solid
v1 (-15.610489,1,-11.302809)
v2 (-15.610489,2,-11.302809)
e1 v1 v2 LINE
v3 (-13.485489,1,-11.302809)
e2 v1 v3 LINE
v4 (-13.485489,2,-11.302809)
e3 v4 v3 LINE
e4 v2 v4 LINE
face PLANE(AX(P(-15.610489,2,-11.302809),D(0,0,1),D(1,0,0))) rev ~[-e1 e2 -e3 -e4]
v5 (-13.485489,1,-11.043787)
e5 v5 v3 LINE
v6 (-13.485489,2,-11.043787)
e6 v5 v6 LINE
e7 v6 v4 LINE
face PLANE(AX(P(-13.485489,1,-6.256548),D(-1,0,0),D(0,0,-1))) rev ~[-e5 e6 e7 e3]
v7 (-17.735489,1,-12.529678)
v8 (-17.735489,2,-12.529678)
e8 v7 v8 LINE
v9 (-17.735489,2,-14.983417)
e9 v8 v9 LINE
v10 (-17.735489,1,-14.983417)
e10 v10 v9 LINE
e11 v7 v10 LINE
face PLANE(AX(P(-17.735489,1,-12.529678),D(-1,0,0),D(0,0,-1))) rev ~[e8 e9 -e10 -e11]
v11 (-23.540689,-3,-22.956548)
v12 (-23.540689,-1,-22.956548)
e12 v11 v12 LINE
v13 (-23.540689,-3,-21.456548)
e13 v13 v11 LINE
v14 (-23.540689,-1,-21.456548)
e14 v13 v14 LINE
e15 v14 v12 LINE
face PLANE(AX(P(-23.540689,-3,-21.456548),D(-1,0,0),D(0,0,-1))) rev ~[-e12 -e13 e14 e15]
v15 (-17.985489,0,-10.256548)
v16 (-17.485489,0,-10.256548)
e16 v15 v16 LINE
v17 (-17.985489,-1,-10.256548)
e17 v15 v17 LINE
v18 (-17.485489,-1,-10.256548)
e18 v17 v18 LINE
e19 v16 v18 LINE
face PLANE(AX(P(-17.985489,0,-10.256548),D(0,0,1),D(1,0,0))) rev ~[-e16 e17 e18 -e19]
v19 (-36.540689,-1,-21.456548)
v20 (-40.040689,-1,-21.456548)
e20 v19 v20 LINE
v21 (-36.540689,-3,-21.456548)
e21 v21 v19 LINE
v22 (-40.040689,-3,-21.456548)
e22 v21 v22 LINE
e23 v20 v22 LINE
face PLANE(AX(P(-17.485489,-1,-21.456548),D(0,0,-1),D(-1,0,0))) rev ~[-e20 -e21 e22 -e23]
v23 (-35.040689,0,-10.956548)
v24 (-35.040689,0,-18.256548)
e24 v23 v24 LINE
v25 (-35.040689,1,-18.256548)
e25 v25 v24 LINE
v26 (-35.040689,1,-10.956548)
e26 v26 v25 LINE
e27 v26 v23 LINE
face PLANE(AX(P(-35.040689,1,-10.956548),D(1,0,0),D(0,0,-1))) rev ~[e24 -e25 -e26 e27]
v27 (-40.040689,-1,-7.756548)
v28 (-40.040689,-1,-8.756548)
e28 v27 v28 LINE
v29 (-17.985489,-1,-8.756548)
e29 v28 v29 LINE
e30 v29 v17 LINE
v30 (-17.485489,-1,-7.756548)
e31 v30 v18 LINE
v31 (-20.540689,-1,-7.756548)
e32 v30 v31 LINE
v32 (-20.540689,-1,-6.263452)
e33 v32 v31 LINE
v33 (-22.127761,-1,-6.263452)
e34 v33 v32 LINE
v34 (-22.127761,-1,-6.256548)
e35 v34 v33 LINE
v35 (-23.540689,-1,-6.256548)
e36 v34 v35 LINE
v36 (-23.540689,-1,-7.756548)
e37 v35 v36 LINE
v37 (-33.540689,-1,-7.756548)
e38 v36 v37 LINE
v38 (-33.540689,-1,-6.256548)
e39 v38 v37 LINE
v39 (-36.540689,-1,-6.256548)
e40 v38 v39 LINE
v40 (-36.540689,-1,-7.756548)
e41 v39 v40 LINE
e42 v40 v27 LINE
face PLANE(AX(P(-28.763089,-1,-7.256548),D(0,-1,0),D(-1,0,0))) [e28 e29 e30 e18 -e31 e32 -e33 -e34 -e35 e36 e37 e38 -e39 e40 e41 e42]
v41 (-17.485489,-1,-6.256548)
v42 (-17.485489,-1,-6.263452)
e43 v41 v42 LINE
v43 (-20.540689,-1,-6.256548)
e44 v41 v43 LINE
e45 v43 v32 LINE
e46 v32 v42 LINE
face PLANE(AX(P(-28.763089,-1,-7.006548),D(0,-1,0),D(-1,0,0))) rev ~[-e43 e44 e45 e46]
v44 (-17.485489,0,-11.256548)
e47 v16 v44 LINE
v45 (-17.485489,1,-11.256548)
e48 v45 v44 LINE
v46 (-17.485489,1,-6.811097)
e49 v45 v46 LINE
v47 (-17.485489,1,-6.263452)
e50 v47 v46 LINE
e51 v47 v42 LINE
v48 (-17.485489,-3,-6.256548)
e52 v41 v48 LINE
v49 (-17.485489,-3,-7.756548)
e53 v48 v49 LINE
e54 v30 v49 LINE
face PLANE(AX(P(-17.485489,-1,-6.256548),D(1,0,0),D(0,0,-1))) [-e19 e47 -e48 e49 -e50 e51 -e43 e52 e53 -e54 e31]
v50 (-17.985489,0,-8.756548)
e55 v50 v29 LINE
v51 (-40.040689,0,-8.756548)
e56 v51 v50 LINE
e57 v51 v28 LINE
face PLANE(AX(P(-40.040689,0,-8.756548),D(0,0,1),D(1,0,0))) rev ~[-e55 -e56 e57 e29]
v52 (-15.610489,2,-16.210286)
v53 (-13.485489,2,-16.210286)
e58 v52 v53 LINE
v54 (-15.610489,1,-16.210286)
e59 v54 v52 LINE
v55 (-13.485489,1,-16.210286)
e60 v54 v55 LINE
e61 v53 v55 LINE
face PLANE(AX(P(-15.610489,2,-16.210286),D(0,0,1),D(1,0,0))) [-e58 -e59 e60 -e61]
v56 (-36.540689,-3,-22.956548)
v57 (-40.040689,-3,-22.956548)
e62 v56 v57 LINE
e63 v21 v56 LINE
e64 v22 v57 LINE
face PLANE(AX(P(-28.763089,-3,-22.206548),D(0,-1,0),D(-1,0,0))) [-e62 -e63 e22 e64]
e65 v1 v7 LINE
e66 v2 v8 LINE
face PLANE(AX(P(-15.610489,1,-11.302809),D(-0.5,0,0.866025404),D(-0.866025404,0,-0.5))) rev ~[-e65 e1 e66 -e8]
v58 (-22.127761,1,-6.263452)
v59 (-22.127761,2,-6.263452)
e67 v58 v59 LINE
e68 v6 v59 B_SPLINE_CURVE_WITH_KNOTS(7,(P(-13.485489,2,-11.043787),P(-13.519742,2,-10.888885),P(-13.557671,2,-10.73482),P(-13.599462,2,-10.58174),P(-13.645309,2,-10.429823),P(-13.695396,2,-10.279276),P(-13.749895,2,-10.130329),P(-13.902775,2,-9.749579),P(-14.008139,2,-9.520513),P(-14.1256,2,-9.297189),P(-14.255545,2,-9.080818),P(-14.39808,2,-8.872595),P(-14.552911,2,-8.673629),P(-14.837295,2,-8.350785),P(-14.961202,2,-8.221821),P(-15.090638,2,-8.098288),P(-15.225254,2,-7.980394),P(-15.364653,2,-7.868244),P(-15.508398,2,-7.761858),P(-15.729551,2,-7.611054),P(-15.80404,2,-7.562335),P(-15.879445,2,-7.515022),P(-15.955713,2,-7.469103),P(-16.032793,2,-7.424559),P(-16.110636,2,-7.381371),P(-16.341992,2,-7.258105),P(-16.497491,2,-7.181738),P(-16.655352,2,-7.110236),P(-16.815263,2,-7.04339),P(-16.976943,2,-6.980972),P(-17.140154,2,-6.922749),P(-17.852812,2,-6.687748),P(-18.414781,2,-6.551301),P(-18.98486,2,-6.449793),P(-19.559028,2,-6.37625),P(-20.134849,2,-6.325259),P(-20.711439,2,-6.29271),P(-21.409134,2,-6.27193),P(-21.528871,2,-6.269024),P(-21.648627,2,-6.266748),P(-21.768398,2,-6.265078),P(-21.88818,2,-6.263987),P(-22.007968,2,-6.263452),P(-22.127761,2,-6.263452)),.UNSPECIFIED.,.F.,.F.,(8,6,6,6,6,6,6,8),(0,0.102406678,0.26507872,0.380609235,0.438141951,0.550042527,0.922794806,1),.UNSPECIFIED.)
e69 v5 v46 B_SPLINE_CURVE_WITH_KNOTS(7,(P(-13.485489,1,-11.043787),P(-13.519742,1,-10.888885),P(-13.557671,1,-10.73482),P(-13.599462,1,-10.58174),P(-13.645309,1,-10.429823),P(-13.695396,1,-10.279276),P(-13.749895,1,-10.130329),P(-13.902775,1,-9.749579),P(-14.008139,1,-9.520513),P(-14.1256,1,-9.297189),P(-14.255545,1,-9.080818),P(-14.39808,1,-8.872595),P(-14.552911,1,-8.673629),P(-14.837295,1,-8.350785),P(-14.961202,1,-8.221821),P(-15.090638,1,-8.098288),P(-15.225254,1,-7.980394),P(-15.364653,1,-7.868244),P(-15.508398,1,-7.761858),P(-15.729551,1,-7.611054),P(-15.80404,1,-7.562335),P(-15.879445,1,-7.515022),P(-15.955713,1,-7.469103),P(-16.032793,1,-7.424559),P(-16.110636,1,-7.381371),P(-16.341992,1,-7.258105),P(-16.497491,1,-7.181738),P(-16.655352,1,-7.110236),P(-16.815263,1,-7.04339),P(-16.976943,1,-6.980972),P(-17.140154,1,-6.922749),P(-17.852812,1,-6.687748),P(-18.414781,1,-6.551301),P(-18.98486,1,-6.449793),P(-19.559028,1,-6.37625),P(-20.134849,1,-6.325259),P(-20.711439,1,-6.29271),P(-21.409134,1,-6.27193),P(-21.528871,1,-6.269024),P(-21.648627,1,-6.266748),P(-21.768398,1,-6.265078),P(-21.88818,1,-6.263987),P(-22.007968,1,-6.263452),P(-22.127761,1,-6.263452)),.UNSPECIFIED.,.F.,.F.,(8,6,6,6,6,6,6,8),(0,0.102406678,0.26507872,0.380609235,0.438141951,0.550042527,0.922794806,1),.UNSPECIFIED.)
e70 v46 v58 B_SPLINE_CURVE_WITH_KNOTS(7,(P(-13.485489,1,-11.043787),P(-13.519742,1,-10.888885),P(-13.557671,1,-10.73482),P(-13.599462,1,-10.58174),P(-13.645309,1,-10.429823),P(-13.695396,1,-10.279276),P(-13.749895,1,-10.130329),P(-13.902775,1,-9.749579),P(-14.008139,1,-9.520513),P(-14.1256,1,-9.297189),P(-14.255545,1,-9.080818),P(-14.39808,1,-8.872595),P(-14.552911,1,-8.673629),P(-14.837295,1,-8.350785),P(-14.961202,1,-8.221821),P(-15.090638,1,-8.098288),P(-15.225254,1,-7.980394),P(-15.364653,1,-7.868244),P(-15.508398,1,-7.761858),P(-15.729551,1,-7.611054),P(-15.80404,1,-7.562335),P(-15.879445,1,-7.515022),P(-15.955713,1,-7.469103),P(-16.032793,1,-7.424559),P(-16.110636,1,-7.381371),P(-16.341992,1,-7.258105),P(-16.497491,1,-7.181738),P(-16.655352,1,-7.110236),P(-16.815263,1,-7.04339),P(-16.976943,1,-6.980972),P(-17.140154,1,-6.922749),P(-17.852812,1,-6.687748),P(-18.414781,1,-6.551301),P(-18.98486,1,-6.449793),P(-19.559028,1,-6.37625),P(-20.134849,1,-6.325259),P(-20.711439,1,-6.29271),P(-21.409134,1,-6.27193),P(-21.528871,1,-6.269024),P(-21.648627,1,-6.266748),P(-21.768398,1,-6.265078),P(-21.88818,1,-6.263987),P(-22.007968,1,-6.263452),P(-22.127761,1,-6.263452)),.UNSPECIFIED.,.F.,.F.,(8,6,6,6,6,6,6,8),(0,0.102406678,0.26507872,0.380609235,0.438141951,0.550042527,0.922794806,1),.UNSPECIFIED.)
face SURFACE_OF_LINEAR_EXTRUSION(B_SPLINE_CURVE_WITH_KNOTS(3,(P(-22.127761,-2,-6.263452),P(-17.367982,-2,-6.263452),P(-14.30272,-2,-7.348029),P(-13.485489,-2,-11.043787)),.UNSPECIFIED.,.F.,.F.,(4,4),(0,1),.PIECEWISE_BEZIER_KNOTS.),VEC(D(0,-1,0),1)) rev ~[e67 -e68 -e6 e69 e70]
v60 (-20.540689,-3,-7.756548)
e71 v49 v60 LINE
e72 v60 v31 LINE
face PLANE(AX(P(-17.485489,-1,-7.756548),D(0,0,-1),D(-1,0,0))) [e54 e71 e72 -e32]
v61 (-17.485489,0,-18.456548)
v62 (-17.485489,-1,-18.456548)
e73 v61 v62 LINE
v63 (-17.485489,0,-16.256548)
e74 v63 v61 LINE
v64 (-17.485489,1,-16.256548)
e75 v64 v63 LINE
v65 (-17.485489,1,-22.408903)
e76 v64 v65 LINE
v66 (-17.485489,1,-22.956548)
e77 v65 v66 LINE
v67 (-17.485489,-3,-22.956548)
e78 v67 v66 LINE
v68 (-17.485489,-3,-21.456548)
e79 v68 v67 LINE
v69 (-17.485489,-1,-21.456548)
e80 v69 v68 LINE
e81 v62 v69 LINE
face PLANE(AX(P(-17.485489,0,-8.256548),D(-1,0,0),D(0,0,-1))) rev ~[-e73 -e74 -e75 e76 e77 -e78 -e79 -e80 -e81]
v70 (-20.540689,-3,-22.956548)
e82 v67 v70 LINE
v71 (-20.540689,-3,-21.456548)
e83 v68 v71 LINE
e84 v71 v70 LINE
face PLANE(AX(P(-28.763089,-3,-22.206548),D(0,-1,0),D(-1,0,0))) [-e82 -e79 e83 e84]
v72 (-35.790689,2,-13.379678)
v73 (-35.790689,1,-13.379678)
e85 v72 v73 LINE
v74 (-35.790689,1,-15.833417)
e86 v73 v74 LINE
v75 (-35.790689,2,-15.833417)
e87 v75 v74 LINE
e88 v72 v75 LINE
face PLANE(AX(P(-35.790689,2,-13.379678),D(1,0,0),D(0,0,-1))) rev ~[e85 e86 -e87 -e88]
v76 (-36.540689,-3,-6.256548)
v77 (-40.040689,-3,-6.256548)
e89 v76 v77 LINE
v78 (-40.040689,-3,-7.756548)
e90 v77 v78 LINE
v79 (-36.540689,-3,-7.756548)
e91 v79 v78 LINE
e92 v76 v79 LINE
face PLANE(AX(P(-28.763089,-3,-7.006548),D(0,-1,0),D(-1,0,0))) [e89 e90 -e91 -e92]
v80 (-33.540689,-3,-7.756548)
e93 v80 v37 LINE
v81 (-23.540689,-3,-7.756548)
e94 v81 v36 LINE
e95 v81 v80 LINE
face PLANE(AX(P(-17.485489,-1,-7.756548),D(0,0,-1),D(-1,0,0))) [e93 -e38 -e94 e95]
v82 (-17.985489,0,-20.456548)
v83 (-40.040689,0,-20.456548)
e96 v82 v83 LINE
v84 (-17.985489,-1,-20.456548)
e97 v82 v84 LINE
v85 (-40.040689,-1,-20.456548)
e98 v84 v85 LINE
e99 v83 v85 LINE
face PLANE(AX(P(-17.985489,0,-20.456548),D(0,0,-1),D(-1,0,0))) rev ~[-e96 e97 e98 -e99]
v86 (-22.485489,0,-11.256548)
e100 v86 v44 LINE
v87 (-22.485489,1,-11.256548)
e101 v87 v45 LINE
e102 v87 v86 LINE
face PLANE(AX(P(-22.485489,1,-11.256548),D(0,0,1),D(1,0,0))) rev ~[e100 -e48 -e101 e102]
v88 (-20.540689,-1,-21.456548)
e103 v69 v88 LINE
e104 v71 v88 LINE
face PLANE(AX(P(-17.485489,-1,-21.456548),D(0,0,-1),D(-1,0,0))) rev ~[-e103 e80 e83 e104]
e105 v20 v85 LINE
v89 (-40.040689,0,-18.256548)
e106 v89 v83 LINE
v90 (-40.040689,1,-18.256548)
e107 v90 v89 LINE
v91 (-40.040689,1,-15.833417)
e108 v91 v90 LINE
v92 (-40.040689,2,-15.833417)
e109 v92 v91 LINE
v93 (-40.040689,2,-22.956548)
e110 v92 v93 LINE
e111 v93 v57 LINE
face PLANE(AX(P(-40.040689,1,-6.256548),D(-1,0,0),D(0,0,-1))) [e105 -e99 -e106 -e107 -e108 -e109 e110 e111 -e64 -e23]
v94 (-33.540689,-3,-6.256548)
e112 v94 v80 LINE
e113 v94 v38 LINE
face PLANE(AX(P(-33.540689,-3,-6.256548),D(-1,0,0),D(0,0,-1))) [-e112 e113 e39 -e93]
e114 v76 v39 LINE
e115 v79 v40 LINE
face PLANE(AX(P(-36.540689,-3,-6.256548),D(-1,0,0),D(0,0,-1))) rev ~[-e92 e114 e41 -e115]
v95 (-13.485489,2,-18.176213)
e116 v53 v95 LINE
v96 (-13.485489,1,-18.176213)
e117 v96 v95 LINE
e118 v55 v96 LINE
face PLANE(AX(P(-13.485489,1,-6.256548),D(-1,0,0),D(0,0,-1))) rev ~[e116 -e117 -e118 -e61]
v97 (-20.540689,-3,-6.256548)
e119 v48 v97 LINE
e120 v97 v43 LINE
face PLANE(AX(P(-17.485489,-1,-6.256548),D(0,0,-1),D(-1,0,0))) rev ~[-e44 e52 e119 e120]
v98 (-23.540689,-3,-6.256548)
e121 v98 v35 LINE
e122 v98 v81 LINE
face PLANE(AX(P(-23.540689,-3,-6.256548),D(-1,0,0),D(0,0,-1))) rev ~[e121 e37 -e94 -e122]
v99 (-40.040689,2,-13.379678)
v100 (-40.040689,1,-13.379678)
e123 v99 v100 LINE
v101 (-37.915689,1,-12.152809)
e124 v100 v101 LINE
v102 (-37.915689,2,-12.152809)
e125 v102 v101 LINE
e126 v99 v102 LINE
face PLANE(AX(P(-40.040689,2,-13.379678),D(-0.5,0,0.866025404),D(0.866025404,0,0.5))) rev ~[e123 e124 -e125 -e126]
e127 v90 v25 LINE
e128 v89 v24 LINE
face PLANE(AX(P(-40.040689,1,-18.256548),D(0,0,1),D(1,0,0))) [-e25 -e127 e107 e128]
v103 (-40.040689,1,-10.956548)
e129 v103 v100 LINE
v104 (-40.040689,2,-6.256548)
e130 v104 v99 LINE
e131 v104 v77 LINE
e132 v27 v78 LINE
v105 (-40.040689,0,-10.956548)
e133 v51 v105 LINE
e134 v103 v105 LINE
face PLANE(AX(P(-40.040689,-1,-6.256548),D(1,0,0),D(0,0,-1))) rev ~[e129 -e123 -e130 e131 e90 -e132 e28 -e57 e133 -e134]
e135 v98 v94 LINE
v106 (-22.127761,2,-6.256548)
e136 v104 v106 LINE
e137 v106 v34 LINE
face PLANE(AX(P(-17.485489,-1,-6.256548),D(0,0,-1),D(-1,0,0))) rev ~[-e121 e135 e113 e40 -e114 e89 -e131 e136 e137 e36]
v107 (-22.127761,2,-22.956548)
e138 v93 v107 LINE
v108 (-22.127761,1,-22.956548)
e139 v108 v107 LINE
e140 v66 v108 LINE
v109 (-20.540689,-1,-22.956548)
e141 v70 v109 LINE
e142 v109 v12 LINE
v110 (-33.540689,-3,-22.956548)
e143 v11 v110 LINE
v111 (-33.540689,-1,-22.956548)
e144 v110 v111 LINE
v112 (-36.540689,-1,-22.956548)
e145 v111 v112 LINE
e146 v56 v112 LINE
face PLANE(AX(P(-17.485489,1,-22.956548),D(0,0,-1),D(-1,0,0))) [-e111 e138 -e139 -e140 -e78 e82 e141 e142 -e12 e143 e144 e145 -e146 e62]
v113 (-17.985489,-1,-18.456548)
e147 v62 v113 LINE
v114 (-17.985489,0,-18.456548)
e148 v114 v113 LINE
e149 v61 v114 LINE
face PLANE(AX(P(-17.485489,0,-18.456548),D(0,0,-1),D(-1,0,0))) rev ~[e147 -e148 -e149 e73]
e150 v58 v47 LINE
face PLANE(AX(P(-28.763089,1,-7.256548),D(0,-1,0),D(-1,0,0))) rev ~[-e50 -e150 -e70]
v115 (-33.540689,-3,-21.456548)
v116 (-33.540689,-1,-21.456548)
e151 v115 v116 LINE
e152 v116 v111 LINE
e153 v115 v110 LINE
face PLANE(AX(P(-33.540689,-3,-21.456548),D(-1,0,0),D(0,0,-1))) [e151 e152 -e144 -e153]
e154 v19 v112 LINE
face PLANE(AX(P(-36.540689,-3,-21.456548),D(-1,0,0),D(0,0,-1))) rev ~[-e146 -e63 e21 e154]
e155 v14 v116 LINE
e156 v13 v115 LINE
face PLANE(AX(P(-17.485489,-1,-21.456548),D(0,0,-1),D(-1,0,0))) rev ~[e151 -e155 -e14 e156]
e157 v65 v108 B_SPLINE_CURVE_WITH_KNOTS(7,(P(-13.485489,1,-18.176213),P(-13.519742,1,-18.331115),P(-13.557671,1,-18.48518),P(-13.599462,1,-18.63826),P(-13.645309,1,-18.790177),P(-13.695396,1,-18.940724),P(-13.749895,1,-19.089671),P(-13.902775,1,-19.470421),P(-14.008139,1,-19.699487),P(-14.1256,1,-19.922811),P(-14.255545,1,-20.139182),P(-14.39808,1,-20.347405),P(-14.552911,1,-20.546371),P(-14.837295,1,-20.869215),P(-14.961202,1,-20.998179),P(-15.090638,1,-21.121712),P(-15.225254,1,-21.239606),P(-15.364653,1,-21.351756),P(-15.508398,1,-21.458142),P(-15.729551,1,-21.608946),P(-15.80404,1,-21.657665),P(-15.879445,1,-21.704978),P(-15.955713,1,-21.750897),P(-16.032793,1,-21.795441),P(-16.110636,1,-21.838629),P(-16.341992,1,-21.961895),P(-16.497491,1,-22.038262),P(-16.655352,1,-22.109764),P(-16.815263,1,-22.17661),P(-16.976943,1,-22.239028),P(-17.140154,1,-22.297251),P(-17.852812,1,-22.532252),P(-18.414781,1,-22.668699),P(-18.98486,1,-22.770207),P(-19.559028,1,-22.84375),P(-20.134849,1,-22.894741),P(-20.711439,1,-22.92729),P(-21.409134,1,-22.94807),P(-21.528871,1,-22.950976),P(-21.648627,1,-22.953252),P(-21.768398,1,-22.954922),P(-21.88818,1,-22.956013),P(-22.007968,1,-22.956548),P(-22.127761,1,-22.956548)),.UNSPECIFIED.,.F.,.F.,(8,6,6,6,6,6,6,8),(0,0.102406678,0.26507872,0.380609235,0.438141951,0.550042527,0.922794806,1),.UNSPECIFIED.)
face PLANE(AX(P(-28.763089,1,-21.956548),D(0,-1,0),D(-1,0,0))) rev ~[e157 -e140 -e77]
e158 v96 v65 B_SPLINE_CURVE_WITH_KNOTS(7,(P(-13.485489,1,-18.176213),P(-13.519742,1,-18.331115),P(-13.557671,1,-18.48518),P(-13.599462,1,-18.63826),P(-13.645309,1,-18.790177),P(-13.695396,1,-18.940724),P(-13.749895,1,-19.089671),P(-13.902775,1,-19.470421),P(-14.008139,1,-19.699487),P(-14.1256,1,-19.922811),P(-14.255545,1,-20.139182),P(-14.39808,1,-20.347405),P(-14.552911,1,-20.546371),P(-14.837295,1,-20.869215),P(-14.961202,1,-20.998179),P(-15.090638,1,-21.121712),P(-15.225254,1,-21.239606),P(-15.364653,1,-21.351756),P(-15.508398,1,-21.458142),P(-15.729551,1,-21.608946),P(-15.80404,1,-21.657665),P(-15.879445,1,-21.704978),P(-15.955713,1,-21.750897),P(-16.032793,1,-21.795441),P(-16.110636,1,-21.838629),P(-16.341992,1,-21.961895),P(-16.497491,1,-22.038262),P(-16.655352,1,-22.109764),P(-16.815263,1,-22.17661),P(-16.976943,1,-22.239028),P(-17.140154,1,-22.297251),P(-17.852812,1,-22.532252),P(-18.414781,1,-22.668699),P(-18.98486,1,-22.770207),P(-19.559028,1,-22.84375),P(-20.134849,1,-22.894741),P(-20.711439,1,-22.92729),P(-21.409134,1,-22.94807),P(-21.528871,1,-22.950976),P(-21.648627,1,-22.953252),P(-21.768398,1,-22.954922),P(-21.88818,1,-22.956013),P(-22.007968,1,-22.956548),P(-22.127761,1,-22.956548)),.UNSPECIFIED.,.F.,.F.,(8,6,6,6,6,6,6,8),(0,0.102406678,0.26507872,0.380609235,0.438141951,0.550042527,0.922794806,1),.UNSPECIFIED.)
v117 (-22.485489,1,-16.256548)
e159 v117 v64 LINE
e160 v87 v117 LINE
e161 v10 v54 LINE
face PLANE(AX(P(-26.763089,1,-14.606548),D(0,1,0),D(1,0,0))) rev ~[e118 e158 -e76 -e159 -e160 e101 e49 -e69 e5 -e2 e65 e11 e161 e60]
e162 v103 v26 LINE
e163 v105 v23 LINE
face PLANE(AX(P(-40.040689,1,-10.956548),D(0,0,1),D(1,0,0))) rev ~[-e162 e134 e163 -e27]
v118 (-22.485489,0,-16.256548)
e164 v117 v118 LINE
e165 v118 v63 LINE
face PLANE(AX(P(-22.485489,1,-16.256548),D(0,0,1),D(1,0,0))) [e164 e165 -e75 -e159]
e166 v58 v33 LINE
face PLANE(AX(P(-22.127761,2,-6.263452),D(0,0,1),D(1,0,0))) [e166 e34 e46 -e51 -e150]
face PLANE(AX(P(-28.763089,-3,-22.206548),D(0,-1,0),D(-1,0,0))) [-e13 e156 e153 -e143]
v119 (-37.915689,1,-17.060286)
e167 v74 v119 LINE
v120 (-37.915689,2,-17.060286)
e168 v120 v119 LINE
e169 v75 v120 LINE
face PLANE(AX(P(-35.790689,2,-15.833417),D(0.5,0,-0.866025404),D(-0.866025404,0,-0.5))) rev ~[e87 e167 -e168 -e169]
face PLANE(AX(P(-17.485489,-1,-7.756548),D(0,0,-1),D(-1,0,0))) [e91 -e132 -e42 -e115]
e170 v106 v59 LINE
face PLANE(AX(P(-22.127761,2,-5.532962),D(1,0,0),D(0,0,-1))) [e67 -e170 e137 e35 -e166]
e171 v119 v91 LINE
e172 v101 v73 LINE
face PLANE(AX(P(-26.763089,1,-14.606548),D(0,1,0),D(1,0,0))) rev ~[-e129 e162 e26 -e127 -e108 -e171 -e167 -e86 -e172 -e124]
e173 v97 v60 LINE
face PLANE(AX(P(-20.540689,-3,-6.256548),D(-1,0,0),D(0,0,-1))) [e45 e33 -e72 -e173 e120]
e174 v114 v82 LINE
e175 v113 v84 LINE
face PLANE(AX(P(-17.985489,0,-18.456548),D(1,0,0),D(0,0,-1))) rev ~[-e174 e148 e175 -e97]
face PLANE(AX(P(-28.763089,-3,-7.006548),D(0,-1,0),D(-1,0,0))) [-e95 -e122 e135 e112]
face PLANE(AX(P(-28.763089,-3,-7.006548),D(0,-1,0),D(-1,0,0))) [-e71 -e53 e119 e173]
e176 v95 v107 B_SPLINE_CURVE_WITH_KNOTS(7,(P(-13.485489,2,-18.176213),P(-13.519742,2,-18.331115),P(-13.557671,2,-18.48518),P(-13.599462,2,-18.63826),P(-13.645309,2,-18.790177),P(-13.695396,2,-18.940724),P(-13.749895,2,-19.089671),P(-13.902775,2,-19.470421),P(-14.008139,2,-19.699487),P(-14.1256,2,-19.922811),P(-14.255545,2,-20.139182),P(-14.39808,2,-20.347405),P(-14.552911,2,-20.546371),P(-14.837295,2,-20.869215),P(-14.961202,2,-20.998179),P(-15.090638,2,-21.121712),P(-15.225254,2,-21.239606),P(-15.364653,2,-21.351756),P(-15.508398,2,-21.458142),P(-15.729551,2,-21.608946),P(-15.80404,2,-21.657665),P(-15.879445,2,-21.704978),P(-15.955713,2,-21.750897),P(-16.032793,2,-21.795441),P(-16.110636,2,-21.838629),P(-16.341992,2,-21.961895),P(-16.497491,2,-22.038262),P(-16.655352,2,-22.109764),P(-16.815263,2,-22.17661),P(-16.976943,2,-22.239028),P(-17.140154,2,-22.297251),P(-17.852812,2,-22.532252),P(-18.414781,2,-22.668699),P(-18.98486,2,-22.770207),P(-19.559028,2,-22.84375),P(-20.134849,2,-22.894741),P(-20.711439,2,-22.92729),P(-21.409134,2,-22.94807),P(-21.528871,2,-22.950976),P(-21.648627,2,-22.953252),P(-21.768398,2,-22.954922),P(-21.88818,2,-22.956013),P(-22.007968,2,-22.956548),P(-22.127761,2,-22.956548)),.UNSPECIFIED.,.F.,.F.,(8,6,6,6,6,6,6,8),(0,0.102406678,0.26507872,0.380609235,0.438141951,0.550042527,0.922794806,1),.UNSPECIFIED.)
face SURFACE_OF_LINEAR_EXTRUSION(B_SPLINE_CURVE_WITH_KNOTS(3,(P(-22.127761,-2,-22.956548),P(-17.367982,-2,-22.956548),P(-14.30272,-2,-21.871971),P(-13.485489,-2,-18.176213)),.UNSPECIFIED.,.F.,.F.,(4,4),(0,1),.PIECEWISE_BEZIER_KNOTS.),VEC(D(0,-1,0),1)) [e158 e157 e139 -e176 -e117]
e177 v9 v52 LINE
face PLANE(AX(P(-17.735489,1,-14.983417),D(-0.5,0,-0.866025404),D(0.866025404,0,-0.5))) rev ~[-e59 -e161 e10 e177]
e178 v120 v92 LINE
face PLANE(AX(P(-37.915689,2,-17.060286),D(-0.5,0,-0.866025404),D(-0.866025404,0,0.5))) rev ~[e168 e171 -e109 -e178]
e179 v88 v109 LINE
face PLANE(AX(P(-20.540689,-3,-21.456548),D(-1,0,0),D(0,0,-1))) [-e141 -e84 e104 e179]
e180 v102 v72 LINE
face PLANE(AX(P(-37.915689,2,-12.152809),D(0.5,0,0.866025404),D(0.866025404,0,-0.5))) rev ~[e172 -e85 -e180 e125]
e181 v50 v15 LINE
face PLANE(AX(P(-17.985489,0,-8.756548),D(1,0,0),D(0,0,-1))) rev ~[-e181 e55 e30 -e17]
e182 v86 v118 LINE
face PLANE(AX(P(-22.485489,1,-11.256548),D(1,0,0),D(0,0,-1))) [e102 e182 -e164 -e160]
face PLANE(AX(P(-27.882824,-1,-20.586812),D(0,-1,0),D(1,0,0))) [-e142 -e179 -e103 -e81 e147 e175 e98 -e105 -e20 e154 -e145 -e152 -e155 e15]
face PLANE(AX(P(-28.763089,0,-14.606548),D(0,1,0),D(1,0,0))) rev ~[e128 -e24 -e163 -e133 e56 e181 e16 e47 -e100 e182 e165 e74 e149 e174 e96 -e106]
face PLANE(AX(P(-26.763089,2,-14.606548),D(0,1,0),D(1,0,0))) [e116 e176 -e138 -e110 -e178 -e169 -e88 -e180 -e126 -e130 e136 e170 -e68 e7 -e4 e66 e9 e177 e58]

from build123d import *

# Parameters (mm, degrees)
SKETCH1_W           = 22.5552
SKETCH1_H           = 12.7
BOSS_EXTRUDE1_DEPTH = 1
SKETCH2_W           = 5
SKETCH2_H           = 7.3
CUT_EXTRUDE1_DEPTH  = 1
SKETCH3_W           = 5
SKETCH3_H           = 5
CUT_EXTRUDE2_DEPTH  = 1
BOSS_EXTRUDE2_DEPTH = 1
SKETCH5_W           = 26.5552
SKETCH5_H           = 16.7
BOSS_EXTRUDE3_DEPTH = 1
CUT_EXTRUDE3_DEPTH  = 1
CUT_EXTRUDE4_DEPTH  = 1
CUT_EXTRUDE5_START  = -4
CUT_EXTRUDE5_DEPTH  = 5
SKETCH10_W          = 22.5552
SKETCH10_H          = 2
BOSS_EXTRUDE4_DEPTH = 2
SKETCH11_W          = 8.919893548
SKETCH11_H          = 0.730490532
CUT_EXTRUDE6_DEPTH  = 3
SKETCH12_W          = 22.5552
SKETCH12_H          = 1.5
BOSS_EXTRUDE5_DEPTH = 2
SKETCH13_W          = 3
SKETCH13_H          = 1.5
CUT_EXTRUDE7_DEPTH  = 2
SKETCH14_W          = 2.125
SKETCH14_H          = 1.226869322
CUT_EXTRUDE8_DEPTH  = 1


with BuildPart() as part:
    # Sketch1 → Boss-Extrude1 (new body)
    with BuildSketch(Plane(origin=(0, 0, 0), x_dir=(1, 0, 0), z_dir=(0, 1, 0))):
        with Locations((-28.763088774, 14.606547542)):
            Rectangle(SKETCH1_W, SKETCH1_H)
    extrude(amount=BOSS_EXTRUDE1_DEPTH)

    # Sketch2 → Cut-Extrude1 (cut)
    with BuildSketch(Plane(origin=(0, 1, 0), x_dir=(1, 0, 0), z_dir=(0, 1, 0))):
        with Locations((-37.540688774, 14.606547542)):
            Rectangle(SKETCH2_W, SKETCH2_H)
    extrude(amount=-CUT_EXTRUDE1_DEPTH, mode=Mode.SUBTRACT)

    # Sketch3 → Cut-Extrude2 (cut)
    with BuildSketch(Plane(origin=(0, 1, 0), x_dir=(1, 0, 0), z_dir=(0, 1, 0))):
        with Locations((-19.985488774, 13.756547542)):
            Rectangle(SKETCH3_W, SKETCH3_H)
    extrude(amount=-CUT_EXTRUDE2_DEPTH, mode=Mode.SUBTRACT)

    # Sketch4 → Boss-Extrude2 (add)
    with BuildSketch(Plane.XZ):
        Polygon((-40.040688774, -8.256547542), (-40.040688774, -8.756547542), (-17.985488774, -8.756547542), (-17.985488774, -10.256547542), (-17.485488774, -10.256547542), (-17.485488774, -8.256547542), align=None)
        Polygon((-17.985488774, -20.456547542), (-40.040688774, -20.456547542), (-40.040688774, -20.956547542), (-17.485488774, -20.956547542), (-17.485488774, -18.456547542), (-17.985488774, -18.456547542), align=None)
    extrude(amount=BOSS_EXTRUDE2_DEPTH)

    # Sketch5 → Boss-Extrude3 (add)
    with BuildSketch(Plane(origin=(0, 1, 0), x_dir=(1, 0, 0), z_dir=(0, 1, 0))):
        with Locations((-26.763088774, 14.606547542)):
            Rectangle(SKETCH5_W, SKETCH5_H)
    extrude(amount=BOSS_EXTRUDE3_DEPTH)

    # Sketch6 → Cut-Extrude3 (cut)
    with BuildSketch(Plane(origin=(0, 2, 0), x_dir=(1, 0, 0), z_dir=(0, 1, 0))):
        Polygon((-40.040688774, 13.37967822), (-37.915688774, 12.152808898), (-35.790688774, 13.37967822), (-35.790688774, 15.833416864), (-37.915688774, 17.060286186), (-40.040688774, 15.833416864), align=None)
    extrude(amount=-CUT_EXTRUDE3_DEPTH, mode=Mode.SUBTRACT)

    # Sketch7 → Cut-Extrude4 (cut)
    with BuildSketch(Plane(origin=(0, 1, 0), x_dir=(-1, 0, 0), z_dir=(0, -1, 0))):
        Polygon((17.735488774, 14.983416864), (15.610488774, 16.210286186), (13.485488774, 14.983416864), (13.485488774, 12.52967822), (15.610488774, 11.302808898), (17.735488774, 12.52967822), align=None)
    extrude(amount=-CUT_EXTRUDE4_DEPTH, mode=Mode.SUBTRACT)

    # Sketch8 → Cut-Extrude5 (cut)
    with BuildSketch(Plane(origin=(0, 2, 0), x_dir=(1, 0, 0), z_dir=(0, 1, 0)).offset(CUT_EXTRUDE5_START)):
        with BuildLine():
            Line((-13.485488774, 22.956547542), (-22.127760886, 22.956547542))
            add(Edge.make_bspline(
                [(-22.127760886, 22.956547542), (-17.367981555, 22.956547542), (-14.30272025, 21.87197064), (-13.485488774, 18.176213027)],
                knots=[0, 0, 0, 0, 1, 1, 1, 1], degree=3))
            Line((-13.485488774, 18.176213027), (-13.485488774, 22.956547542))
        make_face()
    cut_extrude5 = extrude(amount=CUT_EXTRUDE5_DEPTH, mode=Mode.SUBTRACT)

    # Mirror2: Cut-Extrude5 across plane
    add(cut_extrude5.mirror(Plane.XY.offset(-14.61)), mode=Mode.SUBTRACT)

    # Sketch10 → Boss-Extrude4 (add)
    with BuildSketch(Plane(origin=(0, 1, 0), x_dir=(-1, 0, 0), z_dir=(0, -1, 0))):
        with Locations((28.763088774, 7.256547542)):
            Rectangle(SKETCH10_W, SKETCH10_H)
        with Locations((28.763088774, 21.956547542)):
            Rectangle(SKETCH10_W, SKETCH10_H)
    extrude(amount=BOSS_EXTRUDE4_DEPTH)

    # Sketch11 → Cut-Extrude6 (cut)
    with BuildSketch(Plane(origin=(0, 2, 0), x_dir=(1, 0, 0), z_dir=(0, 1, 0))):
        with Locations((-17.667814112, 5.898207192)):
            Rectangle(SKETCH11_W, SKETCH11_H)
    extrude(amount=-CUT_EXTRUDE6_DEPTH, mode=Mode.SUBTRACT)

    # Sketch12 → Boss-Extrude5 (add)
    with BuildSketch(Plane(origin=(0, -1, 0), x_dir=(-1, 0, 0), z_dir=(0, -1, 0))):
        with Locations((28.763088774, 7.006547542)):
            Rectangle(SKETCH12_W, SKETCH12_H)
        with Locations((28.763088774, 22.206547542)):
            Rectangle(SKETCH12_W, SKETCH12_H)
    extrude(amount=BOSS_EXTRUDE5_DEPTH)

    # Sketch13 → Cut-Extrude7 (cut)
    with BuildSketch(Plane(origin=(0, -3, 0), x_dir=(-1, 0, 0), z_dir=(0, -1, 0))):
        with Locations((35.040688774, 7.006547542)):
            Rectangle(SKETCH13_W, SKETCH13_H)
        with Locations((35.040688774, 22.206547542)):
            Rectangle(SKETCH13_W, SKETCH13_H)
        with Locations((22.040688774, 7.006547542)):
            Rectangle(SKETCH13_W, SKETCH13_H)
        with Locations((22.040688774, 22.206547542)):
            Rectangle(SKETCH13_W, SKETCH13_H)
    extrude(amount=-CUT_EXTRUDE7_DEPTH, mode=Mode.SUBTRACT)

    # Sketch14 → Cut-Extrude8 (cut)
    with BuildSketch(Plane(origin=(0, 2, 0), x_dir=(1, 0, 0), z_dir=(0, 1, 0))):
        with Locations((-14.547988774, 15.596851525)):
            Rectangle(SKETCH14_W, SKETCH14_H)
        with Locations((-14.547988774, 11.916243559)):
            Rectangle(SKETCH14_W, SKETCH14_H)
    extrude(amount=-CUT_EXTRUDE8_DEPTH, mode=Mode.SUBTRACT)


solid = part.part
